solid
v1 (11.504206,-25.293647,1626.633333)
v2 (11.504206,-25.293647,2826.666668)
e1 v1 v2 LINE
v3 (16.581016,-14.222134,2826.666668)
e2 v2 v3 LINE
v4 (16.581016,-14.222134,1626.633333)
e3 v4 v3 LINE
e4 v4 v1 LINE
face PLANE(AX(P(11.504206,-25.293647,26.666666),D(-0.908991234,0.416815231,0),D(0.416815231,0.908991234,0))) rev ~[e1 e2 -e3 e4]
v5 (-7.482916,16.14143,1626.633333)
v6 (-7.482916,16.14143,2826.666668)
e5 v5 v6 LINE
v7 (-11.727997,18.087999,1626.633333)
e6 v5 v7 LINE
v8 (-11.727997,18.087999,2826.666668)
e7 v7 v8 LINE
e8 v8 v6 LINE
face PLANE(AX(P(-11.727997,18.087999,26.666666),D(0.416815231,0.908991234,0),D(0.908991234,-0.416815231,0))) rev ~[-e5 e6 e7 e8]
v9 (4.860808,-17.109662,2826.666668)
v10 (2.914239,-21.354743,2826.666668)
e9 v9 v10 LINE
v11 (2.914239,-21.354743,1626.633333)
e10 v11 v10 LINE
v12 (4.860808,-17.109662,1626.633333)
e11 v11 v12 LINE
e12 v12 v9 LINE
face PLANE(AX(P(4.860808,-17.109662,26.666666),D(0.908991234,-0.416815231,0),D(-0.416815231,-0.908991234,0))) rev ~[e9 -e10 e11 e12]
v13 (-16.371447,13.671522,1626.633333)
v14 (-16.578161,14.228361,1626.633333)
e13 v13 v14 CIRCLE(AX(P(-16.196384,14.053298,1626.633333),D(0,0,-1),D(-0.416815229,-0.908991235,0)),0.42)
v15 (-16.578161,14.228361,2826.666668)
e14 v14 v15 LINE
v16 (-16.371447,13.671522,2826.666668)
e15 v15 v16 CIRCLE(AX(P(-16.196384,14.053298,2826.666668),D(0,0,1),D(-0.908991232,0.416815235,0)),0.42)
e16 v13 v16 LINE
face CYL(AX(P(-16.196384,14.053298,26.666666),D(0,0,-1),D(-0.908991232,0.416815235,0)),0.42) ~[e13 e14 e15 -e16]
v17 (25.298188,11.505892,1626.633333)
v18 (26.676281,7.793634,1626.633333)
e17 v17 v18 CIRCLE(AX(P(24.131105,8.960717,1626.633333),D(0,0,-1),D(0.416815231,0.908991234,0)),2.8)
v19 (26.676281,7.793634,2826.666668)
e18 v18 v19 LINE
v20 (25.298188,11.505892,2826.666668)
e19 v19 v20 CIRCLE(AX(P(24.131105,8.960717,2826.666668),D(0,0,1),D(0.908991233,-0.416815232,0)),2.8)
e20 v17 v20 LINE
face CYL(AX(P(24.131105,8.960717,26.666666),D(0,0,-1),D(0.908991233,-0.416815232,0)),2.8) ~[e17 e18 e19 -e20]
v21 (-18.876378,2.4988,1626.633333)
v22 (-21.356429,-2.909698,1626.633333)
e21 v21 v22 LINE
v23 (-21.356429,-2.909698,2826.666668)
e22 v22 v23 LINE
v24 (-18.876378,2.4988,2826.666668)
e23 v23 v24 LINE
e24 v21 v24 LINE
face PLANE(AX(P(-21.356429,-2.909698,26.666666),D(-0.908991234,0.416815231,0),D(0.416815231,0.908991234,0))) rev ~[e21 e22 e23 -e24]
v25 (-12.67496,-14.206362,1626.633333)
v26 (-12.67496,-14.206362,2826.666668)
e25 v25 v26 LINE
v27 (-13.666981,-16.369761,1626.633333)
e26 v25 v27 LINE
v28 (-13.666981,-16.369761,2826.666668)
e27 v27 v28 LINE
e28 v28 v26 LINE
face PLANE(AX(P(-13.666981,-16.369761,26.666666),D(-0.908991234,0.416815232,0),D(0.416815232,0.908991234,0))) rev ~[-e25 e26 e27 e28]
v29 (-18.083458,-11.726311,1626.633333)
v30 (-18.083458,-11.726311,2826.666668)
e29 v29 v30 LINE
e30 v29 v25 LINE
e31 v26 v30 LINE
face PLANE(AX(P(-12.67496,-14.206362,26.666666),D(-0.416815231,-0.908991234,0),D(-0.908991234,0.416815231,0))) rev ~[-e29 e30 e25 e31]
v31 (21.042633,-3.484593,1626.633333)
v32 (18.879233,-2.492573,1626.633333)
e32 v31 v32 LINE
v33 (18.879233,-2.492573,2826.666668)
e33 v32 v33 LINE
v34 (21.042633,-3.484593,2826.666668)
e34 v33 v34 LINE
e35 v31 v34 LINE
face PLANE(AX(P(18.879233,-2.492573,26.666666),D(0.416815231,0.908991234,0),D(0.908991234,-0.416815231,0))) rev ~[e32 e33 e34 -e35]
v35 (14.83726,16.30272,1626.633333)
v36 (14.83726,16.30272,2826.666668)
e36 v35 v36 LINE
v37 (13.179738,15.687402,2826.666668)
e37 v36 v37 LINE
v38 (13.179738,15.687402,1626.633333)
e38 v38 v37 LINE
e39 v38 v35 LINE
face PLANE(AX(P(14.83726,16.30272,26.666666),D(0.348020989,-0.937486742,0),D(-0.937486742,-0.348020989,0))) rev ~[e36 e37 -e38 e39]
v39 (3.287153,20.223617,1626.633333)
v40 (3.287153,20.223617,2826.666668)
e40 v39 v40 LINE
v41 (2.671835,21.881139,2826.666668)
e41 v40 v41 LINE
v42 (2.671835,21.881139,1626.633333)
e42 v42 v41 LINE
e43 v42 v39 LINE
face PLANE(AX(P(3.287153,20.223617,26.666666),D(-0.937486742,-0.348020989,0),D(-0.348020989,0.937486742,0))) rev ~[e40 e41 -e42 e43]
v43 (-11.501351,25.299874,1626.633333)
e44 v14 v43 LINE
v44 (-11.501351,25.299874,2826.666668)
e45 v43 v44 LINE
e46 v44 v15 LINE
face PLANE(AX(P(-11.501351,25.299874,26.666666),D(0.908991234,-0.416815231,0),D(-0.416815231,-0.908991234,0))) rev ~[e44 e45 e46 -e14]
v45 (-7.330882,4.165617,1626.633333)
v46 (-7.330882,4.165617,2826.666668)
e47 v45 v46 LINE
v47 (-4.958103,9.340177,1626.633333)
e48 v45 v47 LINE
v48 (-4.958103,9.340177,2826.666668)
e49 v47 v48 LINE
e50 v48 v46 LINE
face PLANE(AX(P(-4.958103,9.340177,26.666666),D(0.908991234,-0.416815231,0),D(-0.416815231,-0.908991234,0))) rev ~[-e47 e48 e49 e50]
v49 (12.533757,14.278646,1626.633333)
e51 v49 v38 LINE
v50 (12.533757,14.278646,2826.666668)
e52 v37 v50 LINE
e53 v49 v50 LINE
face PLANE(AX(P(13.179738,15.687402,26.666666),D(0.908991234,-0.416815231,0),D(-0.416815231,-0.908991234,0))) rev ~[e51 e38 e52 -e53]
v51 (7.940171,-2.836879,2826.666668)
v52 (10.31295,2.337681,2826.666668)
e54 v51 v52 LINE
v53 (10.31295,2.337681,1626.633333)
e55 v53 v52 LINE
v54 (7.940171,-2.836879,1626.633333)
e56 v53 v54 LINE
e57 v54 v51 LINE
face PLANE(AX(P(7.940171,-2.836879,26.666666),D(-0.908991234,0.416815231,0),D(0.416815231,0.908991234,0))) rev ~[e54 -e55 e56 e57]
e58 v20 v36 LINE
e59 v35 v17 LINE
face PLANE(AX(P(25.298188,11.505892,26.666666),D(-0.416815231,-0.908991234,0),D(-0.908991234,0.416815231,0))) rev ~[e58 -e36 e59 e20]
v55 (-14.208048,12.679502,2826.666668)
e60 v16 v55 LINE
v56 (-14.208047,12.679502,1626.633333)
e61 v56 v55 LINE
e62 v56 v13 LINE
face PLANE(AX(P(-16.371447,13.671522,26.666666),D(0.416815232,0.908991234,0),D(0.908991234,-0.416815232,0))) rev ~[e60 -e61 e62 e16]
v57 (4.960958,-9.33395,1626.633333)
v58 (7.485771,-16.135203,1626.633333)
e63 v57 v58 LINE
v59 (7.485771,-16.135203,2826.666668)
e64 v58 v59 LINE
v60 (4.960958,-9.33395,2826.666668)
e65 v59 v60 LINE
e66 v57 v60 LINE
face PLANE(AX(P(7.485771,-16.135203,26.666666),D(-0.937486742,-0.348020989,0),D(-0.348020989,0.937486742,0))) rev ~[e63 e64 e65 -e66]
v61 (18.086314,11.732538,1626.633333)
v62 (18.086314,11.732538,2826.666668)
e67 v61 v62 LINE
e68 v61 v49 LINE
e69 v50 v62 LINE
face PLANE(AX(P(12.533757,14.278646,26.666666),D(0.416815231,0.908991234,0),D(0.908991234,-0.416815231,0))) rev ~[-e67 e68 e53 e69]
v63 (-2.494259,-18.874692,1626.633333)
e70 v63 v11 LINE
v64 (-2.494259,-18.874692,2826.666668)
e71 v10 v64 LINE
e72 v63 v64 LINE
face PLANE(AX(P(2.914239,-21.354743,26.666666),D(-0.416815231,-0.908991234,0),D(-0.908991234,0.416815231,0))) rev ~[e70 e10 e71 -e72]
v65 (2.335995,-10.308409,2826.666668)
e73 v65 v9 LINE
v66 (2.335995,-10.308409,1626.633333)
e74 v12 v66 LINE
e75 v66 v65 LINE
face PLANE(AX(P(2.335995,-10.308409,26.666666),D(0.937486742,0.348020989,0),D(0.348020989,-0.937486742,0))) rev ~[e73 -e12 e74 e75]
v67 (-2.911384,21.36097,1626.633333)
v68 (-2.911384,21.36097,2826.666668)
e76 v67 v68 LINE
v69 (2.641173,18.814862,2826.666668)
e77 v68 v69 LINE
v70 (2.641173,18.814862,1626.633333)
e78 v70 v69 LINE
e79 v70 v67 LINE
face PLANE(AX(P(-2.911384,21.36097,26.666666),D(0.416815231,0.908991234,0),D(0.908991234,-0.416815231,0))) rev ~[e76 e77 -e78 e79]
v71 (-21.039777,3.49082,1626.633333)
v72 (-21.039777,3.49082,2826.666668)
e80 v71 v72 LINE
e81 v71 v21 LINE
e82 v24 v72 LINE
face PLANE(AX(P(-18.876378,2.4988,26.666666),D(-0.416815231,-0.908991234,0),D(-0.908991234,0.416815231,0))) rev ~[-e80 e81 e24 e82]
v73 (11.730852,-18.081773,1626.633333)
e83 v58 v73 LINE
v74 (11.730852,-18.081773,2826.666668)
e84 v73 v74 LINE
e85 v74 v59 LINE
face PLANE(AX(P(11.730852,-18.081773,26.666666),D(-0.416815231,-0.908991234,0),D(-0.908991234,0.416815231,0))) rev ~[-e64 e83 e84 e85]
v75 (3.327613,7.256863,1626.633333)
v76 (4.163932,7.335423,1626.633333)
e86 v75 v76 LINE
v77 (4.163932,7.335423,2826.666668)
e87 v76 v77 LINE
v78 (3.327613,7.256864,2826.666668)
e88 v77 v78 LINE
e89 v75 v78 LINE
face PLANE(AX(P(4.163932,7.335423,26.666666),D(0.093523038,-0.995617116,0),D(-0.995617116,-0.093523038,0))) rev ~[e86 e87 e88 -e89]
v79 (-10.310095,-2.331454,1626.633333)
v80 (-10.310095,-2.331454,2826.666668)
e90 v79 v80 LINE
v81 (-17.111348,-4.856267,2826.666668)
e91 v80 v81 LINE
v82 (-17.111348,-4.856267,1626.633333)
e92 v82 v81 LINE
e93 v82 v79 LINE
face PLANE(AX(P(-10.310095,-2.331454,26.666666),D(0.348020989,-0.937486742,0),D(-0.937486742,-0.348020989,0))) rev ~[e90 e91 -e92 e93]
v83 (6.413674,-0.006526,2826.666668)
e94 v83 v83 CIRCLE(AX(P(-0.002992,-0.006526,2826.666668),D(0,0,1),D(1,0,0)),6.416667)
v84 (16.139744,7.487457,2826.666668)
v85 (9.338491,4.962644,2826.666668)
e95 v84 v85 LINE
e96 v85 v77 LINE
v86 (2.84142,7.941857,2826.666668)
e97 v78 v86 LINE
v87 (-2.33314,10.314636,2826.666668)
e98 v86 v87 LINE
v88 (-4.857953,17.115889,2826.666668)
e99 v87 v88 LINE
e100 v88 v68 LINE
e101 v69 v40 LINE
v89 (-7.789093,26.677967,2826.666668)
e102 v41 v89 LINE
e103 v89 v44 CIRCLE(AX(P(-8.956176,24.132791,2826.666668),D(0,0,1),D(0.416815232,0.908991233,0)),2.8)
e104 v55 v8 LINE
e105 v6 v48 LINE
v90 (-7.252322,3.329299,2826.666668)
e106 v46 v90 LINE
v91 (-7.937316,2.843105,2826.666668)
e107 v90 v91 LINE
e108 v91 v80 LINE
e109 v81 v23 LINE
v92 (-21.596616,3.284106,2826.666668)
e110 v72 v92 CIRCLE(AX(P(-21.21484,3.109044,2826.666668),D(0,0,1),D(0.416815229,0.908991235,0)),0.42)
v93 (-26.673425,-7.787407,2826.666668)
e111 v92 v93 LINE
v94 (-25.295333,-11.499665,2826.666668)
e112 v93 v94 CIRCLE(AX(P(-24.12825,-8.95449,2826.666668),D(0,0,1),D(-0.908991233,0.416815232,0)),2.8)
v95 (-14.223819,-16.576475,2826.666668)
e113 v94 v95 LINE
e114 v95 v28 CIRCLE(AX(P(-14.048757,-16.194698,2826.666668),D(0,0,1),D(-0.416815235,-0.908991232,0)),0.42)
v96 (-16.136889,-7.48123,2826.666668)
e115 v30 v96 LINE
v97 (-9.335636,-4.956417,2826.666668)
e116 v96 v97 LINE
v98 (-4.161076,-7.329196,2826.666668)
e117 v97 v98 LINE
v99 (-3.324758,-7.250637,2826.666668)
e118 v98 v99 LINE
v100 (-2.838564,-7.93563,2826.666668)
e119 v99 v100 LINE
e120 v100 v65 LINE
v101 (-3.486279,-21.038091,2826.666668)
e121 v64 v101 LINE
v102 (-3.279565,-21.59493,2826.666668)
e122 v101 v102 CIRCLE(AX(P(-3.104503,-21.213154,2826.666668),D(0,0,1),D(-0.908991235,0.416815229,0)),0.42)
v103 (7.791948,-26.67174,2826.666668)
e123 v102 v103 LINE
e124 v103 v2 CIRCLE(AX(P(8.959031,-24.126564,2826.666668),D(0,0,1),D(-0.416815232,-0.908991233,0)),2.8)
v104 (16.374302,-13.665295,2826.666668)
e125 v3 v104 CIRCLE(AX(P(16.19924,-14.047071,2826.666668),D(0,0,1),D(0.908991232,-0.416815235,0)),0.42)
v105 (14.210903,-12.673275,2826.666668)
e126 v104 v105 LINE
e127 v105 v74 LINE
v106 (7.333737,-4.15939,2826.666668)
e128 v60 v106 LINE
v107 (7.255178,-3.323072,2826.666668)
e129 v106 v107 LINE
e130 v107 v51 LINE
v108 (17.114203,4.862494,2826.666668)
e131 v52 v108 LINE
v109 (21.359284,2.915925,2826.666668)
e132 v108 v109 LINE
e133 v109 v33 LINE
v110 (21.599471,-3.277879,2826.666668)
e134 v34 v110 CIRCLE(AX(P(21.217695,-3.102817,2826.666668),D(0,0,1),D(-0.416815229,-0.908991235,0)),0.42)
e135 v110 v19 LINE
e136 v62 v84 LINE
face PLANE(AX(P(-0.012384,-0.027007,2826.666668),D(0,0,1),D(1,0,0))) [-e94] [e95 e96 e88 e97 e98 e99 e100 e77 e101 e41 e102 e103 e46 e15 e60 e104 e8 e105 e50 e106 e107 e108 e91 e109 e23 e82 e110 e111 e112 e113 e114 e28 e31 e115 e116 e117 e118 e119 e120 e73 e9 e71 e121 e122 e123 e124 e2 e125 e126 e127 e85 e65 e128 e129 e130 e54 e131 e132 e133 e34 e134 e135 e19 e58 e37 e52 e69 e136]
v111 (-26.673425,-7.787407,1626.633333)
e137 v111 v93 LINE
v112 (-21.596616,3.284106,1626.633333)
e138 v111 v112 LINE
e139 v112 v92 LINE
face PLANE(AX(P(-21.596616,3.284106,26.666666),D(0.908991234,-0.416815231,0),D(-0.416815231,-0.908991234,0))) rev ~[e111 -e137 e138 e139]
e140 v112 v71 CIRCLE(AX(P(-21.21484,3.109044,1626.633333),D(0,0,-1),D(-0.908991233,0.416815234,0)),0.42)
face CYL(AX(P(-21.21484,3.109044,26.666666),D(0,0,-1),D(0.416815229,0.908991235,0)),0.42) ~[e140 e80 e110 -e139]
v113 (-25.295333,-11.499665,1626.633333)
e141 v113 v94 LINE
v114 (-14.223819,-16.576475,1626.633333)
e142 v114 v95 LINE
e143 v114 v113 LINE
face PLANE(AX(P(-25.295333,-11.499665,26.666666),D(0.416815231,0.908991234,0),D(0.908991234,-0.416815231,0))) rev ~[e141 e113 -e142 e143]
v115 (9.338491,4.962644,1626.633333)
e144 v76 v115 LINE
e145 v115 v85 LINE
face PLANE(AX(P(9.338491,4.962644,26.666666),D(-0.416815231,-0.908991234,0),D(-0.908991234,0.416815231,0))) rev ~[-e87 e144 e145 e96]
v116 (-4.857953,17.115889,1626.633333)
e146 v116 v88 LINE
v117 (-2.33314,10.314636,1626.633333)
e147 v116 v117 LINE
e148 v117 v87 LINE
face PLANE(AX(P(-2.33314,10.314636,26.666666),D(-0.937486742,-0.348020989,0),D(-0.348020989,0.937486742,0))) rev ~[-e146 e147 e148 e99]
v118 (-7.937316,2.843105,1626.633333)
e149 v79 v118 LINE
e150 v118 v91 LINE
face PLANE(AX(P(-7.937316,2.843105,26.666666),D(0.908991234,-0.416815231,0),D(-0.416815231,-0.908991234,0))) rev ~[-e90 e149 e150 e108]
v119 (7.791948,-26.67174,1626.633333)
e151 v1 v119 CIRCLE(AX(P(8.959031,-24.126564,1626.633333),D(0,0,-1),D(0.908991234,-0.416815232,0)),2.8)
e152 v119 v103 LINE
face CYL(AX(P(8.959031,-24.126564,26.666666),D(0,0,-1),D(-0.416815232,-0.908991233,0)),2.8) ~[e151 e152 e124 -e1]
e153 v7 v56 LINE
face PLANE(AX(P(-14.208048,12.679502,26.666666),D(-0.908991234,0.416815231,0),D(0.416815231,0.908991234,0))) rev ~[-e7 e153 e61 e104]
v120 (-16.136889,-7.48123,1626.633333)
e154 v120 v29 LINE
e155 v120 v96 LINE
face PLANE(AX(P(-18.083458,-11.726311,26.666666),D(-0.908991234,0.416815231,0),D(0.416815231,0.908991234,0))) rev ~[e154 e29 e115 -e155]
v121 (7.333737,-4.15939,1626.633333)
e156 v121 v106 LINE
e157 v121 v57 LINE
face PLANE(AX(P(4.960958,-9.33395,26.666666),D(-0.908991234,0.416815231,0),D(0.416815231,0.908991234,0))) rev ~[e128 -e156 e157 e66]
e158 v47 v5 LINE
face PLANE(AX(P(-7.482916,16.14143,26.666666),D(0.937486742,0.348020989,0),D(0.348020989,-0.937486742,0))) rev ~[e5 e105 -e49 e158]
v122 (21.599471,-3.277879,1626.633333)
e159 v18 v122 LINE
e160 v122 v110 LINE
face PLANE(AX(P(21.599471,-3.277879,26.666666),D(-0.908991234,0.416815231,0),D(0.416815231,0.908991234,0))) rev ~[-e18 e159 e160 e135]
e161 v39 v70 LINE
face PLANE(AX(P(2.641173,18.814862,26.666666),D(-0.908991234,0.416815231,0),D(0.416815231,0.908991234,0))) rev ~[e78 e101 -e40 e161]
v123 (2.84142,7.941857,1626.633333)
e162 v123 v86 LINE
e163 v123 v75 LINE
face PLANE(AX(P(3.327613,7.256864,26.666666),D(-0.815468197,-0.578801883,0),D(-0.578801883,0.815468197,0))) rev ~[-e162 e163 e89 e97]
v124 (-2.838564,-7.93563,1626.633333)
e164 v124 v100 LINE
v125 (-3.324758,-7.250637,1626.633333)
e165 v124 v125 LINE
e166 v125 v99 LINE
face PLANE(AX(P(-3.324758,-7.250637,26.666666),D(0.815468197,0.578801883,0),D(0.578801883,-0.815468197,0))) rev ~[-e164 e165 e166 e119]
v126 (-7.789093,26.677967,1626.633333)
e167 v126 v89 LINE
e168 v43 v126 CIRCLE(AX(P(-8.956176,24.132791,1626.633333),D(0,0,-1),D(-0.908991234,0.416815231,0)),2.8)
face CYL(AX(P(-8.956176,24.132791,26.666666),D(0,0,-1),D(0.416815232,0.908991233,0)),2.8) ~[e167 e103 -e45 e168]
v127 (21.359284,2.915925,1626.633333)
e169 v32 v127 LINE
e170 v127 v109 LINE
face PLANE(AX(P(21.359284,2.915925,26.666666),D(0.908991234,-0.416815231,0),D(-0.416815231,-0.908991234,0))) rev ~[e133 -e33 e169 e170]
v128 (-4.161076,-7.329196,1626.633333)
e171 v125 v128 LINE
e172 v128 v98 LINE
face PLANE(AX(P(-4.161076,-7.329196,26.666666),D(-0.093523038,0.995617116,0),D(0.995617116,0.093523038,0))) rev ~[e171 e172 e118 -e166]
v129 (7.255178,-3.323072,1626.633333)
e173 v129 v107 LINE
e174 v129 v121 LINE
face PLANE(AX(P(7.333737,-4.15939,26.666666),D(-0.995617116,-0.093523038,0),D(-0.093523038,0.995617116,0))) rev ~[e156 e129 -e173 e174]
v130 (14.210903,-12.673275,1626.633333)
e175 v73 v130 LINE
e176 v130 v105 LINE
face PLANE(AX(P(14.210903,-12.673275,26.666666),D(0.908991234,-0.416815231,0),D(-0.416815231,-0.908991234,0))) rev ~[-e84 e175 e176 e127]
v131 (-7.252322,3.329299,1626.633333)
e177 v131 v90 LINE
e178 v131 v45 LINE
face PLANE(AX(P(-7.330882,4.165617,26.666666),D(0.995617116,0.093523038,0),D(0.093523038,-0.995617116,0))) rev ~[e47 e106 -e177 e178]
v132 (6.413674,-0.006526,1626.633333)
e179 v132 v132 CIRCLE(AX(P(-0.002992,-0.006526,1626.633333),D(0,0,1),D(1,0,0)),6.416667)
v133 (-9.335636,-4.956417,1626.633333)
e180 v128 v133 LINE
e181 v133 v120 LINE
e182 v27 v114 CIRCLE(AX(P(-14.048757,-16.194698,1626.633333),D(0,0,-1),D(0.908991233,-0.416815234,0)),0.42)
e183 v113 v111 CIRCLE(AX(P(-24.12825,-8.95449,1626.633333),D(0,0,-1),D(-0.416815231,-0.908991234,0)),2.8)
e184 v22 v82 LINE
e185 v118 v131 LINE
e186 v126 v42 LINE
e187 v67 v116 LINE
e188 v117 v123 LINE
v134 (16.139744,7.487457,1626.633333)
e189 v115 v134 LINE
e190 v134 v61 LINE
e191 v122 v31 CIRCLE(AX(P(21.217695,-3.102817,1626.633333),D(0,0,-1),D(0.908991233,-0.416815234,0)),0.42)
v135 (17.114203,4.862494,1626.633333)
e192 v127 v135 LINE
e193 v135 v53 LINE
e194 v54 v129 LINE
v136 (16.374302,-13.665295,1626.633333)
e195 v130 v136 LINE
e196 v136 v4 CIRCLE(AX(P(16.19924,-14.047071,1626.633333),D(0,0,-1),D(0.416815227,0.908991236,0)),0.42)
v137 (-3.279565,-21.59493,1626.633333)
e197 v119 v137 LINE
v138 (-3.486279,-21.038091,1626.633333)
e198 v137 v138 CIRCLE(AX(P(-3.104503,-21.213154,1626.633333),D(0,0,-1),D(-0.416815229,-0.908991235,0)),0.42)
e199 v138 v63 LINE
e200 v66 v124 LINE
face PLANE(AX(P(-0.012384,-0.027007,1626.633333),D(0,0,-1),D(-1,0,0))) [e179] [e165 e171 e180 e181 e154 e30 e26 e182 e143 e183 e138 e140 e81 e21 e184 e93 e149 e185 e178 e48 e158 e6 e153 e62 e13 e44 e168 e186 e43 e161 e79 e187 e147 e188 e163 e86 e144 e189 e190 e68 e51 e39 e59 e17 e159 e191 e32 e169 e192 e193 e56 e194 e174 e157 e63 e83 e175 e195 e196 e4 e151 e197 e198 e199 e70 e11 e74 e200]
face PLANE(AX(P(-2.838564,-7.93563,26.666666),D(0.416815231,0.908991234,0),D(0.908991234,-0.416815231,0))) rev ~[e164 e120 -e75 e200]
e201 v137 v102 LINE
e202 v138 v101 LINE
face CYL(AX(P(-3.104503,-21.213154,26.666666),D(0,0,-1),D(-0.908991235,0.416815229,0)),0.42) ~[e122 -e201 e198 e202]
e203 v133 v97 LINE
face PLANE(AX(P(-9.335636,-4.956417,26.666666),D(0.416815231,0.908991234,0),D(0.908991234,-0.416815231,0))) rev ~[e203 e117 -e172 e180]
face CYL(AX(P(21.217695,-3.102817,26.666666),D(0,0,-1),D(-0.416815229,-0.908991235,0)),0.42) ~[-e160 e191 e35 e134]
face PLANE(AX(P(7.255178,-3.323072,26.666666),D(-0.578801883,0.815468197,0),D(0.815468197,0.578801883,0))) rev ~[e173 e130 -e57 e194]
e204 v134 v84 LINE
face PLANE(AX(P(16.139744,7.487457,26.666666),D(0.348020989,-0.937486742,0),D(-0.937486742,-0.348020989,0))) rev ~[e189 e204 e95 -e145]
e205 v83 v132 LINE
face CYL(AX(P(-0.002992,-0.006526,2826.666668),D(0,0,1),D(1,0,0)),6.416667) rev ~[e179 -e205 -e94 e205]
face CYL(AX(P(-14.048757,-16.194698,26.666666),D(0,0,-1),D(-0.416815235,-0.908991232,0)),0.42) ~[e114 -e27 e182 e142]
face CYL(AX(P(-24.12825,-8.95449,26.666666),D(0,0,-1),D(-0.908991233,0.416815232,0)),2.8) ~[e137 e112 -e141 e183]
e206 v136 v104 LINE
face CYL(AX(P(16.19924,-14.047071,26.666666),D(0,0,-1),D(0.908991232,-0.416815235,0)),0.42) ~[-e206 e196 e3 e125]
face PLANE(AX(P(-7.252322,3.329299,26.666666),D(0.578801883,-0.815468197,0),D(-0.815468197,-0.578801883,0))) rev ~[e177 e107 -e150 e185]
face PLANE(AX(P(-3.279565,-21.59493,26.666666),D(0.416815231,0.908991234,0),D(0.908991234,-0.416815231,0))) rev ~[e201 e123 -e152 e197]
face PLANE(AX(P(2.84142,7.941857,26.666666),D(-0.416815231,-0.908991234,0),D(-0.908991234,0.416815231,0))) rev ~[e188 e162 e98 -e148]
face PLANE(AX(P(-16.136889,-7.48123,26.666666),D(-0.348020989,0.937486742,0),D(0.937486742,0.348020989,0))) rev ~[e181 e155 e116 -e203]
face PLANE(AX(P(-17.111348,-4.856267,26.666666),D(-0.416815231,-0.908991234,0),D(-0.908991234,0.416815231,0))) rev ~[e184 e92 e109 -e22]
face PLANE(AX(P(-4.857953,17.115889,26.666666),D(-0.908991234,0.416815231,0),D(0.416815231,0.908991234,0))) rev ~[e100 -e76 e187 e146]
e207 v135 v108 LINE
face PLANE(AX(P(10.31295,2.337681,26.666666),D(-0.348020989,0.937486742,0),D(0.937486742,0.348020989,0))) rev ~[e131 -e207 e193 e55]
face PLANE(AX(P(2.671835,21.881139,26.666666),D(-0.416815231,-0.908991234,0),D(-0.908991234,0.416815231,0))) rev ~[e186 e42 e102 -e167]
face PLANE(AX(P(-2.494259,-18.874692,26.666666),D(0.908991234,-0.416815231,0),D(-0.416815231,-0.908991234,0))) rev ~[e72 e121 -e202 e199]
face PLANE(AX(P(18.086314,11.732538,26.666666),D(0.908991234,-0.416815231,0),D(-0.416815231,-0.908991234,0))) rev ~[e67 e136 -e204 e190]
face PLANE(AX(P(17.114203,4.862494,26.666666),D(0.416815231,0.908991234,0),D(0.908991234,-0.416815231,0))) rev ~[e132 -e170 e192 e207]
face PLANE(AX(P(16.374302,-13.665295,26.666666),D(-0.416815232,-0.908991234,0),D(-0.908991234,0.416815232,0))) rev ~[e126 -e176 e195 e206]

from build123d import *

# Parameters (mm, degrees)
BOSS_EXTRUDE1_DEPTH = 2000
SCALE1_SCALE        = 3
SKETCH2_R           = 115.047789556
CUT_EXTRUDE1_DEPTH  = 1600
SKETCH3_R           = 13.75
CUT_EXTRUDE2_DEPTH  = 4401
SCALE2_SCALE        = 0.466666667
CUT_EXTRUDE3_DEPTH  = 53.3
CUT_EXTRUDE4_DEPTH  = 800


with BuildPart() as part:
    # Sketch1 → Boss-Extrude1 (new body)
    with BuildSketch(Plane.XY):
        with BuildLine():
            Line((-8.216270499, 18.069114507), (-11.842563011, 10.160890774))
            ThreePointArc((-11.842563011, 10.160890774), (-11.851111664, 9.931439908), (-11.694910211, 9.763148835))
            Line((-11.694910211, 9.763148835), (-10.149625113, 9.054562941))
            Line((-10.149625113, 9.054562941), (-8.37816038, 12.917775685))
            Line((-8.37816038, 12.917775685), (-5.345959751, 11.527369089))
            Line((-5.345959751, 11.527369089), (-3.542521768, 6.669331059))
            Line((-3.542521768, 6.669331059), (-5.237363855, 2.973217088))
            Line((-5.237363855, 2.973217088), (-5.181250032, 2.375846818))
            Line((-5.181250032, 2.375846818), (-5.67053095, 2.028565688))
            Line((-5.67053095, 2.028565688), (-7.365373037, -1.667548284))
            Line((-7.365373037, -1.667548284), (-12.223411067, -3.470986267))
            Line((-12.223411067, -3.470986267), (-15.255611696, -2.080579672))
            Line((-15.255611696, -2.080579672), (-13.484146963, 1.782633072))
            Line((-13.484146963, 1.782633072), (-15.029432061, 2.491218965))
            ThreePointArc((-15.029432061, 2.491218965), (-15.258882927, 2.499767617), (-15.427174, 2.343566164))
            Line((-15.427174, 2.343566164), (-19.053466512, -5.564657569))
            ThreePointArc((-19.053466512, -5.564657569), (-19.110457529, -7.094330009), (-18.069114507, -8.216270499))
            Line((-18.069114507, -8.216270499), (-10.160890774, -11.842563011))
            ThreePointArc((-10.160890774, -11.842563011), (-9.931439908, -11.851111664), (-9.763148835, -11.694910211))
            Line((-9.763148835, -11.694910211), (-9.054562941, -10.149625113))
            Line((-9.054562941, -10.149625113), (-12.917775685, -8.37816038))
            Line((-12.917775685, -8.37816038), (-11.527369089, -5.345959751))
            Line((-11.527369089, -5.345959751), (-6.669331059, -3.542521768))
            Line((-6.669331059, -3.542521768), (-2.973217088, -5.237363855))
            Line((-2.973217088, -5.237363855), (-2.375846818, -5.181250032))
            Line((-2.375846818, -5.181250032), (-2.028565688, -5.67053095))
            Line((-2.028565688, -5.67053095), (1.667548284, -7.365373037))
            Line((1.667548284, -7.365373037), (3.470986267, -12.223411067))
            Line((3.470986267, -12.223411067), (2.080579672, -15.255611696))
            Line((2.080579672, -15.255611696), (-1.782633072, -13.484146963))
            Line((-1.782633072, -13.484146963), (-2.491218965, -15.029432061))
            ThreePointArc((-2.491218965, -15.029432061), (-2.499767617, -15.258882927), (-2.343566164, -15.427174))
            Line((-2.343566164, -15.427174), (5.564657569, -19.053466512))
            ThreePointArc((5.564657569, -19.053466512), (7.094330009, -19.110457529), (8.216270499, -18.069114507))
            Line((8.216270499, -18.069114507), (11.842563011, -10.160890774))
            ThreePointArc((11.842563011, -10.160890774), (11.851111664, -9.931439908), (11.694910211, -9.763148835))
            Line((11.694910211, -9.763148835), (10.149625113, -9.054562941))
            Line((10.149625113, -9.054562941), (8.37816038, -12.917775685))
            Line((8.37816038, -12.917775685), (5.345959751, -11.527369089))
            Line((5.345959751, -11.527369089), (3.542521768, -6.669331059))
            Line((3.542521768, -6.669331059), (5.237363855, -2.973217088))
            Line((5.237363855, -2.973217088), (5.181250032, -2.375846818))
            Line((5.181250032, -2.375846818), (5.67053095, -2.028565688))
            Line((5.67053095, -2.028565688), (7.365373037, 1.667548284))
            Line((7.365373037, 1.667548284), (12.223411067, 3.470986267))
            Line((12.223411067, 3.470986267), (15.255611696, 2.080579672))
            Line((15.255611696, 2.080579672), (13.484146963, -1.782633072))
            Line((13.484146963, -1.782633072), (15.029432061, -2.491218965))
            ThreePointArc((15.029432061, -2.491218965), (15.258882927, -2.499767617), (15.427174, -2.343566164))
            Line((15.427174, -2.343566164), (19.053466512, 5.564657569))
            ThreePointArc((19.053466512, 5.564657569), (19.110457529, 7.094330009), (18.069114507, 8.216270499))
            Line((18.069114507, 8.216270499), (10.597022809, 11.642575962))
            Line((10.597022809, 11.642575962), (9.413078742, 11.203063202))
            Line((9.413078742, 11.203063202), (8.951663933, 10.196809148))
            Line((8.951663933, 10.196809148), (12.917775685, 8.37816038))
            Line((12.917775685, 8.37816038), (11.527369089, 5.345959751))
            Line((11.527369089, 5.345959751), (6.669331059, 3.542521768))
            Line((6.669331059, 3.542521768), (2.973217088, 5.237363855))
            Line((2.973217088, 5.237363855), (2.375846818, 5.181250032))
            Line((2.375846818, 5.181250032), (2.028565688, 5.67053095))
            Line((2.028565688, 5.67053095), (-1.667548284, 7.365373037))
            Line((-1.667548284, 7.365373037), (-3.470986267, 12.223411067))
            Line((-3.470986267, 12.223411067), (-2.080579672, 15.255611696))
            Line((-2.080579672, 15.255611696), (1.88553208, 13.436962929))
            Line((1.88553208, 13.436962929), (2.346946889, 14.443216983))
            Line((2.346946889, 14.443216983), (1.907434129, 15.62716105))
            Line((1.907434129, 15.62716105), (-5.564657569, 19.053466512))
            ThreePointArc((-5.564657569, 19.053466512), (-7.094330009, 19.110457529), (-8.216270499, 18.069114507))
        make_face()
    extrude(amount=BOSS_EXTRUDE1_DEPTH)


with BuildPart() as part_1:
    # Scale1: scaled about (-0.00473582, -0.010327884, 1000)
    add(part.part.scale(SCALE1_SCALE).moved(Location((0.00947164, 0.020655768, -2000))))

    # Sketch2 → Cut-Extrude1 (cut)
    with BuildSketch(Plane(origin=(0, 0, -2000), x_dir=(-1, 0, 0), z_dir=(0, 0, -1))):
        Circle(SKETCH2_R)
    extrude(amount=-CUT_EXTRUDE1_DEPTH, mode=Mode.SUBTRACT)

    # Sketch3 → Cut-Extrude2 (cut, through all)
    with BuildSketch(Plane.XY.offset(4000)):
        Circle(SKETCH3_R)
    extrude(amount=-CUT_EXTRUDE2_DEPTH, mode=Mode.SUBTRACT)


with BuildPart() as part_2:
    # Scale2: scaled about (-0.005610815, -0.012236071, 1800)
    add(part_1.part.scale(SCALE2_SCALE).moved(Location((-0.002992435, -0.006525905, 960))))

    # Sketch6 → Cut-Extrude3 (cut)
    with BuildSketch(Plane(origin=(0, 0, 773.333333333), x_dir=(-1, 0, 0), z_dir=(0, 0, -1))):
        with BuildLine():
            Line((7.789092932, 26.67796657), (-2.671835446, 21.881138923))
            Line((-2.671835446, 21.881138923), (-3.287153309, 20.223617229))
            Line((-3.287153309, 20.223617229), (-2.641172576, 18.814861553))
            Line((-2.641172576, 18.814861553), (2.911383876, 21.360969828))
            Line((2.911383876, 21.360969828), (4.857953109, 17.115888947))
            Line((4.857953109, 17.115888947), (2.333139933, 10.314635704))
            Line((2.333139933, 10.314635704), (-2.841419627, 7.941856782))
            Line((-2.841419627, 7.941856782), (-3.32761321, 7.256863498))
            Line((-3.32761321, 7.256863498), (-4.163931587, 7.33542285))
            Line((-4.163931587, 7.33542285), (-9.338491147, 4.962643928))
            Line((-9.338491147, 4.962643928), (-16.13974439, 7.487457104))
            Line((-16.13974439, 7.487457104), (-18.086313623, 11.732537985))
            Line((-18.086313623, 11.732537985), (-12.533757171, 14.27864626))
            Line((-12.533757171, 14.27864626), (-13.179737904, 15.687401936))
            Line((-13.179737904, 15.687401936), (-14.837259597, 16.302719799))
            Line((-14.837259597, 16.302719799), (-25.298187975, 11.505892152))
            ThreePointArc((-25.298187975, 11.505892152), (-26.756068205, 9.935175466), (-26.676280782, 7.79363405))
            Line((-26.676280782, 7.79363405), (-21.599471265, -3.277879177))
            ThreePointArc((-21.599471265, -3.277879177), (-21.363863762, -3.496561211), (-21.04263255, -3.484593098))
            Line((-21.04263255, -3.484593098), (-18.879233413, -2.492572848))
            Line((-18.879233413, -2.492572848), (-21.359284039, 2.915924993))
            Line((-21.359284039, 2.915924993), (-17.114203158, 4.862494227))
            Line((-17.114203158, 4.862494227), (-10.312949916, 2.33768105))
            Line((-10.312949916, 2.33768105), (-7.940170994, -2.83687851))
            Line((-7.940170994, -2.83687851), (-7.25517771, -3.323072093))
            Line((-7.25517771, -3.323072093), (-7.333737061, -4.15939047))
            Line((-7.333737061, -4.15939047), (-4.960958139, -9.33395003))
            Line((-4.960958139, -9.33395003), (-7.485771316, -16.135203272))
            Line((-7.485771316, -16.135203272), (-11.730852197, -18.081772506))
            Line((-11.730852197, -18.081772506), (-14.210902823, -12.673274665))
            Line((-14.210902823, -12.673274665), (-16.374301959, -13.665294916))
            ThreePointArc((-16.374301959, -13.665294916), (-16.592983994, -13.900902418), (-16.58101588, -14.222133631))
            Line((-16.58101588, -14.222133631), (-11.504206363, -25.293646858))
            ThreePointArc((-11.504206363, -25.293646858), (-9.933489678, -26.751527087), (-7.791948261, -26.671739664))
            Line((-7.791948261, -26.671739664), (3.279564965, -21.594930148))
            ThreePointArc((3.279564965, -21.594930148), (3.498247, -21.359322645), (3.486278886, -21.038091432))
            Line((3.486278886, -21.038091432), (2.494258636, -18.874692296))
            Line((2.494258636, -18.874692296), (-2.914239205, -21.354742922))
            Line((-2.914239205, -21.354742922), (-4.860808438, -17.109662041))
            Line((-4.860808438, -17.109662041), (-2.335995262, -10.308408799))
            Line((-2.335995262, -10.308408799), (2.838564298, -7.935629877))
            Line((2.838564298, -7.935629877), (3.324757881, -7.250636592))
            Line((3.324757881, -7.250636592), (4.161076258, -7.329195944))
            Line((4.161076258, -7.329195944), (9.335635818, -4.956417022))
            Line((9.335635818, -4.956417022), (16.13688906, -7.481230198))
            Line((16.13688906, -7.481230198), (18.083458294, -11.72631108))
            Line((18.083458294, -11.72631108), (12.674960453, -14.206361706))
            Line((12.674960453, -14.206361706), (13.666980704, -16.369760842))
            ThreePointArc((13.666980704, -16.369760842), (13.902588207, -16.588442876), (14.223819419, -16.576474763))
            Line((14.223819419, -16.576474763), (25.295332646, -11.499665246))
            ThreePointArc((25.295332646, -11.499665246), (26.753212876, -9.92894856), (26.673425453, -7.787407144))
            Line((26.673425453, -7.787407144), (21.596615936, 3.284106083))
            ThreePointArc((21.596615936, 3.284106083), (21.361008433, 3.502788117), (21.039777221, 3.490820004))
            Line((21.039777221, 3.490820004), (18.876378084, 2.498799753))
            Line((18.876378084, 2.498799753), (21.35642871, -2.909698087))
            Line((21.35642871, -2.909698087), (17.111347829, -4.856267321))
            Line((17.111347829, -4.856267321), (10.310094587, -2.331454145))
            Line((10.310094587, -2.331454145), (7.937315665, 2.843105415))
            Line((7.937315665, 2.843105415), (7.252322381, 3.329298998))
            Line((7.252322381, 3.329298998), (7.330881732, 4.165617376))
            Line((7.330881732, 4.165617376), (4.95810281, 9.340176936))
            Line((4.95810281, 9.340176936), (7.482915987, 16.141430178))
            Line((7.482915987, 16.141430178), (11.727996868, 18.087999412))
            Line((11.727996868, 18.087999412), (14.208047494, 12.679501571))
            Line((14.208047494, 12.679501571), (16.37144663, 13.671521821))
            ThreePointArc((16.37144663, 13.671521821), (16.590128665, 13.907129324), (16.578160551, 14.228360537))
            Line((16.578160551, 14.228360537), (11.501351034, 25.299873763))
            ThreePointArc((11.501351034, 25.299873763), (9.930634349, 26.757753993), (7.789092932, 26.67796657))
        make_face()
    extrude(amount=-CUT_EXTRUDE3_DEPTH, mode=Mode.SUBTRACT)

    # Sketch7 → Cut-Extrude4 (cut)
    with BuildSketch(Plane(origin=(0, 0, 826.633333333), x_dir=(-1, 0, 0), z_dir=(0, 0, -1))):
        with BuildLine():
            Line((7.789092932, 26.67796657), (-2.671835446, 21.881138923))
            Line((-2.671835446, 21.881138923), (-3.287153309, 20.223617229))
            Line((-3.287153309, 20.223617229), (-2.641172576, 18.814861553))
            Line((-2.641172576, 18.814861553), (2.911383876, 21.360969828))
            Line((2.911383876, 21.360969828), (4.857953109, 17.115888947))
            Line((4.857953109, 17.115888947), (2.333139933, 10.314635704))
            Line((2.333139933, 10.314635704), (-2.841419627, 7.941856782))
            Line((-2.841419627, 7.941856782), (-3.32761321, 7.256863498))
            Line((-3.32761321, 7.256863498), (-4.163931587, 7.33542285))
            Line((-4.163931587, 7.33542285), (-9.338491147, 4.962643928))
            Line((-9.338491147, 4.962643928), (-16.13974439, 7.487457104))
            Line((-16.13974439, 7.487457104), (-18.086313623, 11.732537985))
            Line((-18.086313623, 11.732537985), (-12.533757171, 14.27864626))
            Line((-12.533757171, 14.27864626), (-13.179737904, 15.687401936))
            Line((-13.179737904, 15.687401936), (-14.837259597, 16.302719799))
            Line((-14.837259597, 16.302719799), (-25.298187975, 11.505892152))
            ThreePointArc((-25.298187975, 11.505892152), (-26.756068205, 9.935175466), (-26.676280782, 7.79363405))
            Line((-26.676280782, 7.79363405), (-21.599471265, -3.277879177))
            ThreePointArc((-21.599471265, -3.277879177), (-21.363863762, -3.496561211), (-21.04263255, -3.484593098))
            Line((-21.04263255, -3.484593098), (-18.879233413, -2.492572848))
            Line((-18.879233413, -2.492572848), (-21.359284039, 2.915924993))
            Line((-21.359284039, 2.915924993), (-17.114203158, 4.862494227))
            Line((-17.114203158, 4.862494227), (-10.312949916, 2.33768105))
            Line((-10.312949916, 2.33768105), (-7.940170994, -2.83687851))
            Line((-7.940170994, -2.83687851), (-7.25517771, -3.323072093))
            Line((-7.25517771, -3.323072093), (-7.333737061, -4.15939047))
            Line((-7.333737061, -4.15939047), (-4.960958139, -9.33395003))
            Line((-4.960958139, -9.33395003), (-7.485771316, -16.135203272))
            Line((-7.485771316, -16.135203272), (-11.730852197, -18.081772506))
            Line((-11.730852197, -18.081772506), (-14.210902823, -12.673274665))
            Line((-14.210902823, -12.673274665), (-16.374301959, -13.665294916))
            ThreePointArc((-16.374301959, -13.665294916), (-16.592983994, -13.900902418), (-16.58101588, -14.222133631))
            Line((-16.58101588, -14.222133631), (-11.504206363, -25.293646858))
            ThreePointArc((-11.504206363, -25.293646858), (-9.933489678, -26.751527087), (-7.791948261, -26.671739664))
            Line((-7.791948261, -26.671739664), (3.279564965, -21.594930148))
            ThreePointArc((3.279564965, -21.594930148), (3.498247, -21.359322645), (3.486278886, -21.038091432))
            Line((3.486278886, -21.038091432), (2.494258636, -18.874692296))
            Line((2.494258636, -18.874692296), (-2.914239205, -21.354742922))
            Line((-2.914239205, -21.354742922), (-4.860808438, -17.109662041))
            Line((-4.860808438, -17.109662041), (-2.335995262, -10.308408799))
            Line((-2.335995262, -10.308408799), (2.838564298, -7.935629877))
            Line((2.838564298, -7.935629877), (3.324757881, -7.250636592))
            Line((3.324757881, -7.250636592), (4.161076258, -7.329195944))
            Line((4.161076258, -7.329195944), (9.335635818, -4.956417022))
            Line((9.335635818, -4.956417022), (16.13688906, -7.481230198))
            Line((16.13688906, -7.481230198), (18.083458294, -11.72631108))
            Line((18.083458294, -11.72631108), (12.674960453, -14.206361706))
            Line((12.674960453, -14.206361706), (13.666980704, -16.369760842))
            ThreePointArc((13.666980704, -16.369760842), (13.902588207, -16.588442876), (14.223819419, -16.576474763))
            Line((14.223819419, -16.576474763), (25.295332646, -11.499665246))
            ThreePointArc((25.295332646, -11.499665246), (26.753212876, -9.92894856), (26.673425453, -7.787407144))
            Line((26.673425453, -7.787407144), (21.596615936, 3.284106083))
            ThreePointArc((21.596615936, 3.284106083), (21.361008433, 3.502788117), (21.039777221, 3.490820004))
            Line((21.039777221, 3.490820004), (18.876378084, 2.498799753))
            Line((18.876378084, 2.498799753), (21.35642871, -2.909698087))
            Line((21.35642871, -2.909698087), (17.111347829, -4.856267321))
            Line((17.111347829, -4.856267321), (10.310094587, -2.331454145))
            Line((10.310094587, -2.331454145), (7.937315665, 2.843105415))
            Line((7.937315665, 2.843105415), (7.252322381, 3.329298998))
            Line((7.252322381, 3.329298998), (7.330881732, 4.165617376))
            Line((7.330881732, 4.165617376), (4.95810281, 9.340176936))
            Line((4.95810281, 9.340176936), (7.482915987, 16.141430178))
            Line((7.482915987, 16.141430178), (11.727996868, 18.087999412))
            Line((11.727996868, 18.087999412), (14.208047494, 12.679501571))
            Line((14.208047494, 12.679501571), (16.37144663, 13.671521821))
            ThreePointArc((16.37144663, 13.671521821), (16.590128665, 13.907129324), (16.578160551, 14.228360537))
            Line((16.578160551, 14.228360537), (11.501351034, 25.299873763))
            ThreePointArc((11.501351034, 25.299873763), (9.930634349, 26.757753993), (7.789092932, 26.67796657))
        make_face()
    extrude(amount=-CUT_EXTRUDE4_DEPTH, mode=Mode.SUBTRACT)


solid = part_2.part
